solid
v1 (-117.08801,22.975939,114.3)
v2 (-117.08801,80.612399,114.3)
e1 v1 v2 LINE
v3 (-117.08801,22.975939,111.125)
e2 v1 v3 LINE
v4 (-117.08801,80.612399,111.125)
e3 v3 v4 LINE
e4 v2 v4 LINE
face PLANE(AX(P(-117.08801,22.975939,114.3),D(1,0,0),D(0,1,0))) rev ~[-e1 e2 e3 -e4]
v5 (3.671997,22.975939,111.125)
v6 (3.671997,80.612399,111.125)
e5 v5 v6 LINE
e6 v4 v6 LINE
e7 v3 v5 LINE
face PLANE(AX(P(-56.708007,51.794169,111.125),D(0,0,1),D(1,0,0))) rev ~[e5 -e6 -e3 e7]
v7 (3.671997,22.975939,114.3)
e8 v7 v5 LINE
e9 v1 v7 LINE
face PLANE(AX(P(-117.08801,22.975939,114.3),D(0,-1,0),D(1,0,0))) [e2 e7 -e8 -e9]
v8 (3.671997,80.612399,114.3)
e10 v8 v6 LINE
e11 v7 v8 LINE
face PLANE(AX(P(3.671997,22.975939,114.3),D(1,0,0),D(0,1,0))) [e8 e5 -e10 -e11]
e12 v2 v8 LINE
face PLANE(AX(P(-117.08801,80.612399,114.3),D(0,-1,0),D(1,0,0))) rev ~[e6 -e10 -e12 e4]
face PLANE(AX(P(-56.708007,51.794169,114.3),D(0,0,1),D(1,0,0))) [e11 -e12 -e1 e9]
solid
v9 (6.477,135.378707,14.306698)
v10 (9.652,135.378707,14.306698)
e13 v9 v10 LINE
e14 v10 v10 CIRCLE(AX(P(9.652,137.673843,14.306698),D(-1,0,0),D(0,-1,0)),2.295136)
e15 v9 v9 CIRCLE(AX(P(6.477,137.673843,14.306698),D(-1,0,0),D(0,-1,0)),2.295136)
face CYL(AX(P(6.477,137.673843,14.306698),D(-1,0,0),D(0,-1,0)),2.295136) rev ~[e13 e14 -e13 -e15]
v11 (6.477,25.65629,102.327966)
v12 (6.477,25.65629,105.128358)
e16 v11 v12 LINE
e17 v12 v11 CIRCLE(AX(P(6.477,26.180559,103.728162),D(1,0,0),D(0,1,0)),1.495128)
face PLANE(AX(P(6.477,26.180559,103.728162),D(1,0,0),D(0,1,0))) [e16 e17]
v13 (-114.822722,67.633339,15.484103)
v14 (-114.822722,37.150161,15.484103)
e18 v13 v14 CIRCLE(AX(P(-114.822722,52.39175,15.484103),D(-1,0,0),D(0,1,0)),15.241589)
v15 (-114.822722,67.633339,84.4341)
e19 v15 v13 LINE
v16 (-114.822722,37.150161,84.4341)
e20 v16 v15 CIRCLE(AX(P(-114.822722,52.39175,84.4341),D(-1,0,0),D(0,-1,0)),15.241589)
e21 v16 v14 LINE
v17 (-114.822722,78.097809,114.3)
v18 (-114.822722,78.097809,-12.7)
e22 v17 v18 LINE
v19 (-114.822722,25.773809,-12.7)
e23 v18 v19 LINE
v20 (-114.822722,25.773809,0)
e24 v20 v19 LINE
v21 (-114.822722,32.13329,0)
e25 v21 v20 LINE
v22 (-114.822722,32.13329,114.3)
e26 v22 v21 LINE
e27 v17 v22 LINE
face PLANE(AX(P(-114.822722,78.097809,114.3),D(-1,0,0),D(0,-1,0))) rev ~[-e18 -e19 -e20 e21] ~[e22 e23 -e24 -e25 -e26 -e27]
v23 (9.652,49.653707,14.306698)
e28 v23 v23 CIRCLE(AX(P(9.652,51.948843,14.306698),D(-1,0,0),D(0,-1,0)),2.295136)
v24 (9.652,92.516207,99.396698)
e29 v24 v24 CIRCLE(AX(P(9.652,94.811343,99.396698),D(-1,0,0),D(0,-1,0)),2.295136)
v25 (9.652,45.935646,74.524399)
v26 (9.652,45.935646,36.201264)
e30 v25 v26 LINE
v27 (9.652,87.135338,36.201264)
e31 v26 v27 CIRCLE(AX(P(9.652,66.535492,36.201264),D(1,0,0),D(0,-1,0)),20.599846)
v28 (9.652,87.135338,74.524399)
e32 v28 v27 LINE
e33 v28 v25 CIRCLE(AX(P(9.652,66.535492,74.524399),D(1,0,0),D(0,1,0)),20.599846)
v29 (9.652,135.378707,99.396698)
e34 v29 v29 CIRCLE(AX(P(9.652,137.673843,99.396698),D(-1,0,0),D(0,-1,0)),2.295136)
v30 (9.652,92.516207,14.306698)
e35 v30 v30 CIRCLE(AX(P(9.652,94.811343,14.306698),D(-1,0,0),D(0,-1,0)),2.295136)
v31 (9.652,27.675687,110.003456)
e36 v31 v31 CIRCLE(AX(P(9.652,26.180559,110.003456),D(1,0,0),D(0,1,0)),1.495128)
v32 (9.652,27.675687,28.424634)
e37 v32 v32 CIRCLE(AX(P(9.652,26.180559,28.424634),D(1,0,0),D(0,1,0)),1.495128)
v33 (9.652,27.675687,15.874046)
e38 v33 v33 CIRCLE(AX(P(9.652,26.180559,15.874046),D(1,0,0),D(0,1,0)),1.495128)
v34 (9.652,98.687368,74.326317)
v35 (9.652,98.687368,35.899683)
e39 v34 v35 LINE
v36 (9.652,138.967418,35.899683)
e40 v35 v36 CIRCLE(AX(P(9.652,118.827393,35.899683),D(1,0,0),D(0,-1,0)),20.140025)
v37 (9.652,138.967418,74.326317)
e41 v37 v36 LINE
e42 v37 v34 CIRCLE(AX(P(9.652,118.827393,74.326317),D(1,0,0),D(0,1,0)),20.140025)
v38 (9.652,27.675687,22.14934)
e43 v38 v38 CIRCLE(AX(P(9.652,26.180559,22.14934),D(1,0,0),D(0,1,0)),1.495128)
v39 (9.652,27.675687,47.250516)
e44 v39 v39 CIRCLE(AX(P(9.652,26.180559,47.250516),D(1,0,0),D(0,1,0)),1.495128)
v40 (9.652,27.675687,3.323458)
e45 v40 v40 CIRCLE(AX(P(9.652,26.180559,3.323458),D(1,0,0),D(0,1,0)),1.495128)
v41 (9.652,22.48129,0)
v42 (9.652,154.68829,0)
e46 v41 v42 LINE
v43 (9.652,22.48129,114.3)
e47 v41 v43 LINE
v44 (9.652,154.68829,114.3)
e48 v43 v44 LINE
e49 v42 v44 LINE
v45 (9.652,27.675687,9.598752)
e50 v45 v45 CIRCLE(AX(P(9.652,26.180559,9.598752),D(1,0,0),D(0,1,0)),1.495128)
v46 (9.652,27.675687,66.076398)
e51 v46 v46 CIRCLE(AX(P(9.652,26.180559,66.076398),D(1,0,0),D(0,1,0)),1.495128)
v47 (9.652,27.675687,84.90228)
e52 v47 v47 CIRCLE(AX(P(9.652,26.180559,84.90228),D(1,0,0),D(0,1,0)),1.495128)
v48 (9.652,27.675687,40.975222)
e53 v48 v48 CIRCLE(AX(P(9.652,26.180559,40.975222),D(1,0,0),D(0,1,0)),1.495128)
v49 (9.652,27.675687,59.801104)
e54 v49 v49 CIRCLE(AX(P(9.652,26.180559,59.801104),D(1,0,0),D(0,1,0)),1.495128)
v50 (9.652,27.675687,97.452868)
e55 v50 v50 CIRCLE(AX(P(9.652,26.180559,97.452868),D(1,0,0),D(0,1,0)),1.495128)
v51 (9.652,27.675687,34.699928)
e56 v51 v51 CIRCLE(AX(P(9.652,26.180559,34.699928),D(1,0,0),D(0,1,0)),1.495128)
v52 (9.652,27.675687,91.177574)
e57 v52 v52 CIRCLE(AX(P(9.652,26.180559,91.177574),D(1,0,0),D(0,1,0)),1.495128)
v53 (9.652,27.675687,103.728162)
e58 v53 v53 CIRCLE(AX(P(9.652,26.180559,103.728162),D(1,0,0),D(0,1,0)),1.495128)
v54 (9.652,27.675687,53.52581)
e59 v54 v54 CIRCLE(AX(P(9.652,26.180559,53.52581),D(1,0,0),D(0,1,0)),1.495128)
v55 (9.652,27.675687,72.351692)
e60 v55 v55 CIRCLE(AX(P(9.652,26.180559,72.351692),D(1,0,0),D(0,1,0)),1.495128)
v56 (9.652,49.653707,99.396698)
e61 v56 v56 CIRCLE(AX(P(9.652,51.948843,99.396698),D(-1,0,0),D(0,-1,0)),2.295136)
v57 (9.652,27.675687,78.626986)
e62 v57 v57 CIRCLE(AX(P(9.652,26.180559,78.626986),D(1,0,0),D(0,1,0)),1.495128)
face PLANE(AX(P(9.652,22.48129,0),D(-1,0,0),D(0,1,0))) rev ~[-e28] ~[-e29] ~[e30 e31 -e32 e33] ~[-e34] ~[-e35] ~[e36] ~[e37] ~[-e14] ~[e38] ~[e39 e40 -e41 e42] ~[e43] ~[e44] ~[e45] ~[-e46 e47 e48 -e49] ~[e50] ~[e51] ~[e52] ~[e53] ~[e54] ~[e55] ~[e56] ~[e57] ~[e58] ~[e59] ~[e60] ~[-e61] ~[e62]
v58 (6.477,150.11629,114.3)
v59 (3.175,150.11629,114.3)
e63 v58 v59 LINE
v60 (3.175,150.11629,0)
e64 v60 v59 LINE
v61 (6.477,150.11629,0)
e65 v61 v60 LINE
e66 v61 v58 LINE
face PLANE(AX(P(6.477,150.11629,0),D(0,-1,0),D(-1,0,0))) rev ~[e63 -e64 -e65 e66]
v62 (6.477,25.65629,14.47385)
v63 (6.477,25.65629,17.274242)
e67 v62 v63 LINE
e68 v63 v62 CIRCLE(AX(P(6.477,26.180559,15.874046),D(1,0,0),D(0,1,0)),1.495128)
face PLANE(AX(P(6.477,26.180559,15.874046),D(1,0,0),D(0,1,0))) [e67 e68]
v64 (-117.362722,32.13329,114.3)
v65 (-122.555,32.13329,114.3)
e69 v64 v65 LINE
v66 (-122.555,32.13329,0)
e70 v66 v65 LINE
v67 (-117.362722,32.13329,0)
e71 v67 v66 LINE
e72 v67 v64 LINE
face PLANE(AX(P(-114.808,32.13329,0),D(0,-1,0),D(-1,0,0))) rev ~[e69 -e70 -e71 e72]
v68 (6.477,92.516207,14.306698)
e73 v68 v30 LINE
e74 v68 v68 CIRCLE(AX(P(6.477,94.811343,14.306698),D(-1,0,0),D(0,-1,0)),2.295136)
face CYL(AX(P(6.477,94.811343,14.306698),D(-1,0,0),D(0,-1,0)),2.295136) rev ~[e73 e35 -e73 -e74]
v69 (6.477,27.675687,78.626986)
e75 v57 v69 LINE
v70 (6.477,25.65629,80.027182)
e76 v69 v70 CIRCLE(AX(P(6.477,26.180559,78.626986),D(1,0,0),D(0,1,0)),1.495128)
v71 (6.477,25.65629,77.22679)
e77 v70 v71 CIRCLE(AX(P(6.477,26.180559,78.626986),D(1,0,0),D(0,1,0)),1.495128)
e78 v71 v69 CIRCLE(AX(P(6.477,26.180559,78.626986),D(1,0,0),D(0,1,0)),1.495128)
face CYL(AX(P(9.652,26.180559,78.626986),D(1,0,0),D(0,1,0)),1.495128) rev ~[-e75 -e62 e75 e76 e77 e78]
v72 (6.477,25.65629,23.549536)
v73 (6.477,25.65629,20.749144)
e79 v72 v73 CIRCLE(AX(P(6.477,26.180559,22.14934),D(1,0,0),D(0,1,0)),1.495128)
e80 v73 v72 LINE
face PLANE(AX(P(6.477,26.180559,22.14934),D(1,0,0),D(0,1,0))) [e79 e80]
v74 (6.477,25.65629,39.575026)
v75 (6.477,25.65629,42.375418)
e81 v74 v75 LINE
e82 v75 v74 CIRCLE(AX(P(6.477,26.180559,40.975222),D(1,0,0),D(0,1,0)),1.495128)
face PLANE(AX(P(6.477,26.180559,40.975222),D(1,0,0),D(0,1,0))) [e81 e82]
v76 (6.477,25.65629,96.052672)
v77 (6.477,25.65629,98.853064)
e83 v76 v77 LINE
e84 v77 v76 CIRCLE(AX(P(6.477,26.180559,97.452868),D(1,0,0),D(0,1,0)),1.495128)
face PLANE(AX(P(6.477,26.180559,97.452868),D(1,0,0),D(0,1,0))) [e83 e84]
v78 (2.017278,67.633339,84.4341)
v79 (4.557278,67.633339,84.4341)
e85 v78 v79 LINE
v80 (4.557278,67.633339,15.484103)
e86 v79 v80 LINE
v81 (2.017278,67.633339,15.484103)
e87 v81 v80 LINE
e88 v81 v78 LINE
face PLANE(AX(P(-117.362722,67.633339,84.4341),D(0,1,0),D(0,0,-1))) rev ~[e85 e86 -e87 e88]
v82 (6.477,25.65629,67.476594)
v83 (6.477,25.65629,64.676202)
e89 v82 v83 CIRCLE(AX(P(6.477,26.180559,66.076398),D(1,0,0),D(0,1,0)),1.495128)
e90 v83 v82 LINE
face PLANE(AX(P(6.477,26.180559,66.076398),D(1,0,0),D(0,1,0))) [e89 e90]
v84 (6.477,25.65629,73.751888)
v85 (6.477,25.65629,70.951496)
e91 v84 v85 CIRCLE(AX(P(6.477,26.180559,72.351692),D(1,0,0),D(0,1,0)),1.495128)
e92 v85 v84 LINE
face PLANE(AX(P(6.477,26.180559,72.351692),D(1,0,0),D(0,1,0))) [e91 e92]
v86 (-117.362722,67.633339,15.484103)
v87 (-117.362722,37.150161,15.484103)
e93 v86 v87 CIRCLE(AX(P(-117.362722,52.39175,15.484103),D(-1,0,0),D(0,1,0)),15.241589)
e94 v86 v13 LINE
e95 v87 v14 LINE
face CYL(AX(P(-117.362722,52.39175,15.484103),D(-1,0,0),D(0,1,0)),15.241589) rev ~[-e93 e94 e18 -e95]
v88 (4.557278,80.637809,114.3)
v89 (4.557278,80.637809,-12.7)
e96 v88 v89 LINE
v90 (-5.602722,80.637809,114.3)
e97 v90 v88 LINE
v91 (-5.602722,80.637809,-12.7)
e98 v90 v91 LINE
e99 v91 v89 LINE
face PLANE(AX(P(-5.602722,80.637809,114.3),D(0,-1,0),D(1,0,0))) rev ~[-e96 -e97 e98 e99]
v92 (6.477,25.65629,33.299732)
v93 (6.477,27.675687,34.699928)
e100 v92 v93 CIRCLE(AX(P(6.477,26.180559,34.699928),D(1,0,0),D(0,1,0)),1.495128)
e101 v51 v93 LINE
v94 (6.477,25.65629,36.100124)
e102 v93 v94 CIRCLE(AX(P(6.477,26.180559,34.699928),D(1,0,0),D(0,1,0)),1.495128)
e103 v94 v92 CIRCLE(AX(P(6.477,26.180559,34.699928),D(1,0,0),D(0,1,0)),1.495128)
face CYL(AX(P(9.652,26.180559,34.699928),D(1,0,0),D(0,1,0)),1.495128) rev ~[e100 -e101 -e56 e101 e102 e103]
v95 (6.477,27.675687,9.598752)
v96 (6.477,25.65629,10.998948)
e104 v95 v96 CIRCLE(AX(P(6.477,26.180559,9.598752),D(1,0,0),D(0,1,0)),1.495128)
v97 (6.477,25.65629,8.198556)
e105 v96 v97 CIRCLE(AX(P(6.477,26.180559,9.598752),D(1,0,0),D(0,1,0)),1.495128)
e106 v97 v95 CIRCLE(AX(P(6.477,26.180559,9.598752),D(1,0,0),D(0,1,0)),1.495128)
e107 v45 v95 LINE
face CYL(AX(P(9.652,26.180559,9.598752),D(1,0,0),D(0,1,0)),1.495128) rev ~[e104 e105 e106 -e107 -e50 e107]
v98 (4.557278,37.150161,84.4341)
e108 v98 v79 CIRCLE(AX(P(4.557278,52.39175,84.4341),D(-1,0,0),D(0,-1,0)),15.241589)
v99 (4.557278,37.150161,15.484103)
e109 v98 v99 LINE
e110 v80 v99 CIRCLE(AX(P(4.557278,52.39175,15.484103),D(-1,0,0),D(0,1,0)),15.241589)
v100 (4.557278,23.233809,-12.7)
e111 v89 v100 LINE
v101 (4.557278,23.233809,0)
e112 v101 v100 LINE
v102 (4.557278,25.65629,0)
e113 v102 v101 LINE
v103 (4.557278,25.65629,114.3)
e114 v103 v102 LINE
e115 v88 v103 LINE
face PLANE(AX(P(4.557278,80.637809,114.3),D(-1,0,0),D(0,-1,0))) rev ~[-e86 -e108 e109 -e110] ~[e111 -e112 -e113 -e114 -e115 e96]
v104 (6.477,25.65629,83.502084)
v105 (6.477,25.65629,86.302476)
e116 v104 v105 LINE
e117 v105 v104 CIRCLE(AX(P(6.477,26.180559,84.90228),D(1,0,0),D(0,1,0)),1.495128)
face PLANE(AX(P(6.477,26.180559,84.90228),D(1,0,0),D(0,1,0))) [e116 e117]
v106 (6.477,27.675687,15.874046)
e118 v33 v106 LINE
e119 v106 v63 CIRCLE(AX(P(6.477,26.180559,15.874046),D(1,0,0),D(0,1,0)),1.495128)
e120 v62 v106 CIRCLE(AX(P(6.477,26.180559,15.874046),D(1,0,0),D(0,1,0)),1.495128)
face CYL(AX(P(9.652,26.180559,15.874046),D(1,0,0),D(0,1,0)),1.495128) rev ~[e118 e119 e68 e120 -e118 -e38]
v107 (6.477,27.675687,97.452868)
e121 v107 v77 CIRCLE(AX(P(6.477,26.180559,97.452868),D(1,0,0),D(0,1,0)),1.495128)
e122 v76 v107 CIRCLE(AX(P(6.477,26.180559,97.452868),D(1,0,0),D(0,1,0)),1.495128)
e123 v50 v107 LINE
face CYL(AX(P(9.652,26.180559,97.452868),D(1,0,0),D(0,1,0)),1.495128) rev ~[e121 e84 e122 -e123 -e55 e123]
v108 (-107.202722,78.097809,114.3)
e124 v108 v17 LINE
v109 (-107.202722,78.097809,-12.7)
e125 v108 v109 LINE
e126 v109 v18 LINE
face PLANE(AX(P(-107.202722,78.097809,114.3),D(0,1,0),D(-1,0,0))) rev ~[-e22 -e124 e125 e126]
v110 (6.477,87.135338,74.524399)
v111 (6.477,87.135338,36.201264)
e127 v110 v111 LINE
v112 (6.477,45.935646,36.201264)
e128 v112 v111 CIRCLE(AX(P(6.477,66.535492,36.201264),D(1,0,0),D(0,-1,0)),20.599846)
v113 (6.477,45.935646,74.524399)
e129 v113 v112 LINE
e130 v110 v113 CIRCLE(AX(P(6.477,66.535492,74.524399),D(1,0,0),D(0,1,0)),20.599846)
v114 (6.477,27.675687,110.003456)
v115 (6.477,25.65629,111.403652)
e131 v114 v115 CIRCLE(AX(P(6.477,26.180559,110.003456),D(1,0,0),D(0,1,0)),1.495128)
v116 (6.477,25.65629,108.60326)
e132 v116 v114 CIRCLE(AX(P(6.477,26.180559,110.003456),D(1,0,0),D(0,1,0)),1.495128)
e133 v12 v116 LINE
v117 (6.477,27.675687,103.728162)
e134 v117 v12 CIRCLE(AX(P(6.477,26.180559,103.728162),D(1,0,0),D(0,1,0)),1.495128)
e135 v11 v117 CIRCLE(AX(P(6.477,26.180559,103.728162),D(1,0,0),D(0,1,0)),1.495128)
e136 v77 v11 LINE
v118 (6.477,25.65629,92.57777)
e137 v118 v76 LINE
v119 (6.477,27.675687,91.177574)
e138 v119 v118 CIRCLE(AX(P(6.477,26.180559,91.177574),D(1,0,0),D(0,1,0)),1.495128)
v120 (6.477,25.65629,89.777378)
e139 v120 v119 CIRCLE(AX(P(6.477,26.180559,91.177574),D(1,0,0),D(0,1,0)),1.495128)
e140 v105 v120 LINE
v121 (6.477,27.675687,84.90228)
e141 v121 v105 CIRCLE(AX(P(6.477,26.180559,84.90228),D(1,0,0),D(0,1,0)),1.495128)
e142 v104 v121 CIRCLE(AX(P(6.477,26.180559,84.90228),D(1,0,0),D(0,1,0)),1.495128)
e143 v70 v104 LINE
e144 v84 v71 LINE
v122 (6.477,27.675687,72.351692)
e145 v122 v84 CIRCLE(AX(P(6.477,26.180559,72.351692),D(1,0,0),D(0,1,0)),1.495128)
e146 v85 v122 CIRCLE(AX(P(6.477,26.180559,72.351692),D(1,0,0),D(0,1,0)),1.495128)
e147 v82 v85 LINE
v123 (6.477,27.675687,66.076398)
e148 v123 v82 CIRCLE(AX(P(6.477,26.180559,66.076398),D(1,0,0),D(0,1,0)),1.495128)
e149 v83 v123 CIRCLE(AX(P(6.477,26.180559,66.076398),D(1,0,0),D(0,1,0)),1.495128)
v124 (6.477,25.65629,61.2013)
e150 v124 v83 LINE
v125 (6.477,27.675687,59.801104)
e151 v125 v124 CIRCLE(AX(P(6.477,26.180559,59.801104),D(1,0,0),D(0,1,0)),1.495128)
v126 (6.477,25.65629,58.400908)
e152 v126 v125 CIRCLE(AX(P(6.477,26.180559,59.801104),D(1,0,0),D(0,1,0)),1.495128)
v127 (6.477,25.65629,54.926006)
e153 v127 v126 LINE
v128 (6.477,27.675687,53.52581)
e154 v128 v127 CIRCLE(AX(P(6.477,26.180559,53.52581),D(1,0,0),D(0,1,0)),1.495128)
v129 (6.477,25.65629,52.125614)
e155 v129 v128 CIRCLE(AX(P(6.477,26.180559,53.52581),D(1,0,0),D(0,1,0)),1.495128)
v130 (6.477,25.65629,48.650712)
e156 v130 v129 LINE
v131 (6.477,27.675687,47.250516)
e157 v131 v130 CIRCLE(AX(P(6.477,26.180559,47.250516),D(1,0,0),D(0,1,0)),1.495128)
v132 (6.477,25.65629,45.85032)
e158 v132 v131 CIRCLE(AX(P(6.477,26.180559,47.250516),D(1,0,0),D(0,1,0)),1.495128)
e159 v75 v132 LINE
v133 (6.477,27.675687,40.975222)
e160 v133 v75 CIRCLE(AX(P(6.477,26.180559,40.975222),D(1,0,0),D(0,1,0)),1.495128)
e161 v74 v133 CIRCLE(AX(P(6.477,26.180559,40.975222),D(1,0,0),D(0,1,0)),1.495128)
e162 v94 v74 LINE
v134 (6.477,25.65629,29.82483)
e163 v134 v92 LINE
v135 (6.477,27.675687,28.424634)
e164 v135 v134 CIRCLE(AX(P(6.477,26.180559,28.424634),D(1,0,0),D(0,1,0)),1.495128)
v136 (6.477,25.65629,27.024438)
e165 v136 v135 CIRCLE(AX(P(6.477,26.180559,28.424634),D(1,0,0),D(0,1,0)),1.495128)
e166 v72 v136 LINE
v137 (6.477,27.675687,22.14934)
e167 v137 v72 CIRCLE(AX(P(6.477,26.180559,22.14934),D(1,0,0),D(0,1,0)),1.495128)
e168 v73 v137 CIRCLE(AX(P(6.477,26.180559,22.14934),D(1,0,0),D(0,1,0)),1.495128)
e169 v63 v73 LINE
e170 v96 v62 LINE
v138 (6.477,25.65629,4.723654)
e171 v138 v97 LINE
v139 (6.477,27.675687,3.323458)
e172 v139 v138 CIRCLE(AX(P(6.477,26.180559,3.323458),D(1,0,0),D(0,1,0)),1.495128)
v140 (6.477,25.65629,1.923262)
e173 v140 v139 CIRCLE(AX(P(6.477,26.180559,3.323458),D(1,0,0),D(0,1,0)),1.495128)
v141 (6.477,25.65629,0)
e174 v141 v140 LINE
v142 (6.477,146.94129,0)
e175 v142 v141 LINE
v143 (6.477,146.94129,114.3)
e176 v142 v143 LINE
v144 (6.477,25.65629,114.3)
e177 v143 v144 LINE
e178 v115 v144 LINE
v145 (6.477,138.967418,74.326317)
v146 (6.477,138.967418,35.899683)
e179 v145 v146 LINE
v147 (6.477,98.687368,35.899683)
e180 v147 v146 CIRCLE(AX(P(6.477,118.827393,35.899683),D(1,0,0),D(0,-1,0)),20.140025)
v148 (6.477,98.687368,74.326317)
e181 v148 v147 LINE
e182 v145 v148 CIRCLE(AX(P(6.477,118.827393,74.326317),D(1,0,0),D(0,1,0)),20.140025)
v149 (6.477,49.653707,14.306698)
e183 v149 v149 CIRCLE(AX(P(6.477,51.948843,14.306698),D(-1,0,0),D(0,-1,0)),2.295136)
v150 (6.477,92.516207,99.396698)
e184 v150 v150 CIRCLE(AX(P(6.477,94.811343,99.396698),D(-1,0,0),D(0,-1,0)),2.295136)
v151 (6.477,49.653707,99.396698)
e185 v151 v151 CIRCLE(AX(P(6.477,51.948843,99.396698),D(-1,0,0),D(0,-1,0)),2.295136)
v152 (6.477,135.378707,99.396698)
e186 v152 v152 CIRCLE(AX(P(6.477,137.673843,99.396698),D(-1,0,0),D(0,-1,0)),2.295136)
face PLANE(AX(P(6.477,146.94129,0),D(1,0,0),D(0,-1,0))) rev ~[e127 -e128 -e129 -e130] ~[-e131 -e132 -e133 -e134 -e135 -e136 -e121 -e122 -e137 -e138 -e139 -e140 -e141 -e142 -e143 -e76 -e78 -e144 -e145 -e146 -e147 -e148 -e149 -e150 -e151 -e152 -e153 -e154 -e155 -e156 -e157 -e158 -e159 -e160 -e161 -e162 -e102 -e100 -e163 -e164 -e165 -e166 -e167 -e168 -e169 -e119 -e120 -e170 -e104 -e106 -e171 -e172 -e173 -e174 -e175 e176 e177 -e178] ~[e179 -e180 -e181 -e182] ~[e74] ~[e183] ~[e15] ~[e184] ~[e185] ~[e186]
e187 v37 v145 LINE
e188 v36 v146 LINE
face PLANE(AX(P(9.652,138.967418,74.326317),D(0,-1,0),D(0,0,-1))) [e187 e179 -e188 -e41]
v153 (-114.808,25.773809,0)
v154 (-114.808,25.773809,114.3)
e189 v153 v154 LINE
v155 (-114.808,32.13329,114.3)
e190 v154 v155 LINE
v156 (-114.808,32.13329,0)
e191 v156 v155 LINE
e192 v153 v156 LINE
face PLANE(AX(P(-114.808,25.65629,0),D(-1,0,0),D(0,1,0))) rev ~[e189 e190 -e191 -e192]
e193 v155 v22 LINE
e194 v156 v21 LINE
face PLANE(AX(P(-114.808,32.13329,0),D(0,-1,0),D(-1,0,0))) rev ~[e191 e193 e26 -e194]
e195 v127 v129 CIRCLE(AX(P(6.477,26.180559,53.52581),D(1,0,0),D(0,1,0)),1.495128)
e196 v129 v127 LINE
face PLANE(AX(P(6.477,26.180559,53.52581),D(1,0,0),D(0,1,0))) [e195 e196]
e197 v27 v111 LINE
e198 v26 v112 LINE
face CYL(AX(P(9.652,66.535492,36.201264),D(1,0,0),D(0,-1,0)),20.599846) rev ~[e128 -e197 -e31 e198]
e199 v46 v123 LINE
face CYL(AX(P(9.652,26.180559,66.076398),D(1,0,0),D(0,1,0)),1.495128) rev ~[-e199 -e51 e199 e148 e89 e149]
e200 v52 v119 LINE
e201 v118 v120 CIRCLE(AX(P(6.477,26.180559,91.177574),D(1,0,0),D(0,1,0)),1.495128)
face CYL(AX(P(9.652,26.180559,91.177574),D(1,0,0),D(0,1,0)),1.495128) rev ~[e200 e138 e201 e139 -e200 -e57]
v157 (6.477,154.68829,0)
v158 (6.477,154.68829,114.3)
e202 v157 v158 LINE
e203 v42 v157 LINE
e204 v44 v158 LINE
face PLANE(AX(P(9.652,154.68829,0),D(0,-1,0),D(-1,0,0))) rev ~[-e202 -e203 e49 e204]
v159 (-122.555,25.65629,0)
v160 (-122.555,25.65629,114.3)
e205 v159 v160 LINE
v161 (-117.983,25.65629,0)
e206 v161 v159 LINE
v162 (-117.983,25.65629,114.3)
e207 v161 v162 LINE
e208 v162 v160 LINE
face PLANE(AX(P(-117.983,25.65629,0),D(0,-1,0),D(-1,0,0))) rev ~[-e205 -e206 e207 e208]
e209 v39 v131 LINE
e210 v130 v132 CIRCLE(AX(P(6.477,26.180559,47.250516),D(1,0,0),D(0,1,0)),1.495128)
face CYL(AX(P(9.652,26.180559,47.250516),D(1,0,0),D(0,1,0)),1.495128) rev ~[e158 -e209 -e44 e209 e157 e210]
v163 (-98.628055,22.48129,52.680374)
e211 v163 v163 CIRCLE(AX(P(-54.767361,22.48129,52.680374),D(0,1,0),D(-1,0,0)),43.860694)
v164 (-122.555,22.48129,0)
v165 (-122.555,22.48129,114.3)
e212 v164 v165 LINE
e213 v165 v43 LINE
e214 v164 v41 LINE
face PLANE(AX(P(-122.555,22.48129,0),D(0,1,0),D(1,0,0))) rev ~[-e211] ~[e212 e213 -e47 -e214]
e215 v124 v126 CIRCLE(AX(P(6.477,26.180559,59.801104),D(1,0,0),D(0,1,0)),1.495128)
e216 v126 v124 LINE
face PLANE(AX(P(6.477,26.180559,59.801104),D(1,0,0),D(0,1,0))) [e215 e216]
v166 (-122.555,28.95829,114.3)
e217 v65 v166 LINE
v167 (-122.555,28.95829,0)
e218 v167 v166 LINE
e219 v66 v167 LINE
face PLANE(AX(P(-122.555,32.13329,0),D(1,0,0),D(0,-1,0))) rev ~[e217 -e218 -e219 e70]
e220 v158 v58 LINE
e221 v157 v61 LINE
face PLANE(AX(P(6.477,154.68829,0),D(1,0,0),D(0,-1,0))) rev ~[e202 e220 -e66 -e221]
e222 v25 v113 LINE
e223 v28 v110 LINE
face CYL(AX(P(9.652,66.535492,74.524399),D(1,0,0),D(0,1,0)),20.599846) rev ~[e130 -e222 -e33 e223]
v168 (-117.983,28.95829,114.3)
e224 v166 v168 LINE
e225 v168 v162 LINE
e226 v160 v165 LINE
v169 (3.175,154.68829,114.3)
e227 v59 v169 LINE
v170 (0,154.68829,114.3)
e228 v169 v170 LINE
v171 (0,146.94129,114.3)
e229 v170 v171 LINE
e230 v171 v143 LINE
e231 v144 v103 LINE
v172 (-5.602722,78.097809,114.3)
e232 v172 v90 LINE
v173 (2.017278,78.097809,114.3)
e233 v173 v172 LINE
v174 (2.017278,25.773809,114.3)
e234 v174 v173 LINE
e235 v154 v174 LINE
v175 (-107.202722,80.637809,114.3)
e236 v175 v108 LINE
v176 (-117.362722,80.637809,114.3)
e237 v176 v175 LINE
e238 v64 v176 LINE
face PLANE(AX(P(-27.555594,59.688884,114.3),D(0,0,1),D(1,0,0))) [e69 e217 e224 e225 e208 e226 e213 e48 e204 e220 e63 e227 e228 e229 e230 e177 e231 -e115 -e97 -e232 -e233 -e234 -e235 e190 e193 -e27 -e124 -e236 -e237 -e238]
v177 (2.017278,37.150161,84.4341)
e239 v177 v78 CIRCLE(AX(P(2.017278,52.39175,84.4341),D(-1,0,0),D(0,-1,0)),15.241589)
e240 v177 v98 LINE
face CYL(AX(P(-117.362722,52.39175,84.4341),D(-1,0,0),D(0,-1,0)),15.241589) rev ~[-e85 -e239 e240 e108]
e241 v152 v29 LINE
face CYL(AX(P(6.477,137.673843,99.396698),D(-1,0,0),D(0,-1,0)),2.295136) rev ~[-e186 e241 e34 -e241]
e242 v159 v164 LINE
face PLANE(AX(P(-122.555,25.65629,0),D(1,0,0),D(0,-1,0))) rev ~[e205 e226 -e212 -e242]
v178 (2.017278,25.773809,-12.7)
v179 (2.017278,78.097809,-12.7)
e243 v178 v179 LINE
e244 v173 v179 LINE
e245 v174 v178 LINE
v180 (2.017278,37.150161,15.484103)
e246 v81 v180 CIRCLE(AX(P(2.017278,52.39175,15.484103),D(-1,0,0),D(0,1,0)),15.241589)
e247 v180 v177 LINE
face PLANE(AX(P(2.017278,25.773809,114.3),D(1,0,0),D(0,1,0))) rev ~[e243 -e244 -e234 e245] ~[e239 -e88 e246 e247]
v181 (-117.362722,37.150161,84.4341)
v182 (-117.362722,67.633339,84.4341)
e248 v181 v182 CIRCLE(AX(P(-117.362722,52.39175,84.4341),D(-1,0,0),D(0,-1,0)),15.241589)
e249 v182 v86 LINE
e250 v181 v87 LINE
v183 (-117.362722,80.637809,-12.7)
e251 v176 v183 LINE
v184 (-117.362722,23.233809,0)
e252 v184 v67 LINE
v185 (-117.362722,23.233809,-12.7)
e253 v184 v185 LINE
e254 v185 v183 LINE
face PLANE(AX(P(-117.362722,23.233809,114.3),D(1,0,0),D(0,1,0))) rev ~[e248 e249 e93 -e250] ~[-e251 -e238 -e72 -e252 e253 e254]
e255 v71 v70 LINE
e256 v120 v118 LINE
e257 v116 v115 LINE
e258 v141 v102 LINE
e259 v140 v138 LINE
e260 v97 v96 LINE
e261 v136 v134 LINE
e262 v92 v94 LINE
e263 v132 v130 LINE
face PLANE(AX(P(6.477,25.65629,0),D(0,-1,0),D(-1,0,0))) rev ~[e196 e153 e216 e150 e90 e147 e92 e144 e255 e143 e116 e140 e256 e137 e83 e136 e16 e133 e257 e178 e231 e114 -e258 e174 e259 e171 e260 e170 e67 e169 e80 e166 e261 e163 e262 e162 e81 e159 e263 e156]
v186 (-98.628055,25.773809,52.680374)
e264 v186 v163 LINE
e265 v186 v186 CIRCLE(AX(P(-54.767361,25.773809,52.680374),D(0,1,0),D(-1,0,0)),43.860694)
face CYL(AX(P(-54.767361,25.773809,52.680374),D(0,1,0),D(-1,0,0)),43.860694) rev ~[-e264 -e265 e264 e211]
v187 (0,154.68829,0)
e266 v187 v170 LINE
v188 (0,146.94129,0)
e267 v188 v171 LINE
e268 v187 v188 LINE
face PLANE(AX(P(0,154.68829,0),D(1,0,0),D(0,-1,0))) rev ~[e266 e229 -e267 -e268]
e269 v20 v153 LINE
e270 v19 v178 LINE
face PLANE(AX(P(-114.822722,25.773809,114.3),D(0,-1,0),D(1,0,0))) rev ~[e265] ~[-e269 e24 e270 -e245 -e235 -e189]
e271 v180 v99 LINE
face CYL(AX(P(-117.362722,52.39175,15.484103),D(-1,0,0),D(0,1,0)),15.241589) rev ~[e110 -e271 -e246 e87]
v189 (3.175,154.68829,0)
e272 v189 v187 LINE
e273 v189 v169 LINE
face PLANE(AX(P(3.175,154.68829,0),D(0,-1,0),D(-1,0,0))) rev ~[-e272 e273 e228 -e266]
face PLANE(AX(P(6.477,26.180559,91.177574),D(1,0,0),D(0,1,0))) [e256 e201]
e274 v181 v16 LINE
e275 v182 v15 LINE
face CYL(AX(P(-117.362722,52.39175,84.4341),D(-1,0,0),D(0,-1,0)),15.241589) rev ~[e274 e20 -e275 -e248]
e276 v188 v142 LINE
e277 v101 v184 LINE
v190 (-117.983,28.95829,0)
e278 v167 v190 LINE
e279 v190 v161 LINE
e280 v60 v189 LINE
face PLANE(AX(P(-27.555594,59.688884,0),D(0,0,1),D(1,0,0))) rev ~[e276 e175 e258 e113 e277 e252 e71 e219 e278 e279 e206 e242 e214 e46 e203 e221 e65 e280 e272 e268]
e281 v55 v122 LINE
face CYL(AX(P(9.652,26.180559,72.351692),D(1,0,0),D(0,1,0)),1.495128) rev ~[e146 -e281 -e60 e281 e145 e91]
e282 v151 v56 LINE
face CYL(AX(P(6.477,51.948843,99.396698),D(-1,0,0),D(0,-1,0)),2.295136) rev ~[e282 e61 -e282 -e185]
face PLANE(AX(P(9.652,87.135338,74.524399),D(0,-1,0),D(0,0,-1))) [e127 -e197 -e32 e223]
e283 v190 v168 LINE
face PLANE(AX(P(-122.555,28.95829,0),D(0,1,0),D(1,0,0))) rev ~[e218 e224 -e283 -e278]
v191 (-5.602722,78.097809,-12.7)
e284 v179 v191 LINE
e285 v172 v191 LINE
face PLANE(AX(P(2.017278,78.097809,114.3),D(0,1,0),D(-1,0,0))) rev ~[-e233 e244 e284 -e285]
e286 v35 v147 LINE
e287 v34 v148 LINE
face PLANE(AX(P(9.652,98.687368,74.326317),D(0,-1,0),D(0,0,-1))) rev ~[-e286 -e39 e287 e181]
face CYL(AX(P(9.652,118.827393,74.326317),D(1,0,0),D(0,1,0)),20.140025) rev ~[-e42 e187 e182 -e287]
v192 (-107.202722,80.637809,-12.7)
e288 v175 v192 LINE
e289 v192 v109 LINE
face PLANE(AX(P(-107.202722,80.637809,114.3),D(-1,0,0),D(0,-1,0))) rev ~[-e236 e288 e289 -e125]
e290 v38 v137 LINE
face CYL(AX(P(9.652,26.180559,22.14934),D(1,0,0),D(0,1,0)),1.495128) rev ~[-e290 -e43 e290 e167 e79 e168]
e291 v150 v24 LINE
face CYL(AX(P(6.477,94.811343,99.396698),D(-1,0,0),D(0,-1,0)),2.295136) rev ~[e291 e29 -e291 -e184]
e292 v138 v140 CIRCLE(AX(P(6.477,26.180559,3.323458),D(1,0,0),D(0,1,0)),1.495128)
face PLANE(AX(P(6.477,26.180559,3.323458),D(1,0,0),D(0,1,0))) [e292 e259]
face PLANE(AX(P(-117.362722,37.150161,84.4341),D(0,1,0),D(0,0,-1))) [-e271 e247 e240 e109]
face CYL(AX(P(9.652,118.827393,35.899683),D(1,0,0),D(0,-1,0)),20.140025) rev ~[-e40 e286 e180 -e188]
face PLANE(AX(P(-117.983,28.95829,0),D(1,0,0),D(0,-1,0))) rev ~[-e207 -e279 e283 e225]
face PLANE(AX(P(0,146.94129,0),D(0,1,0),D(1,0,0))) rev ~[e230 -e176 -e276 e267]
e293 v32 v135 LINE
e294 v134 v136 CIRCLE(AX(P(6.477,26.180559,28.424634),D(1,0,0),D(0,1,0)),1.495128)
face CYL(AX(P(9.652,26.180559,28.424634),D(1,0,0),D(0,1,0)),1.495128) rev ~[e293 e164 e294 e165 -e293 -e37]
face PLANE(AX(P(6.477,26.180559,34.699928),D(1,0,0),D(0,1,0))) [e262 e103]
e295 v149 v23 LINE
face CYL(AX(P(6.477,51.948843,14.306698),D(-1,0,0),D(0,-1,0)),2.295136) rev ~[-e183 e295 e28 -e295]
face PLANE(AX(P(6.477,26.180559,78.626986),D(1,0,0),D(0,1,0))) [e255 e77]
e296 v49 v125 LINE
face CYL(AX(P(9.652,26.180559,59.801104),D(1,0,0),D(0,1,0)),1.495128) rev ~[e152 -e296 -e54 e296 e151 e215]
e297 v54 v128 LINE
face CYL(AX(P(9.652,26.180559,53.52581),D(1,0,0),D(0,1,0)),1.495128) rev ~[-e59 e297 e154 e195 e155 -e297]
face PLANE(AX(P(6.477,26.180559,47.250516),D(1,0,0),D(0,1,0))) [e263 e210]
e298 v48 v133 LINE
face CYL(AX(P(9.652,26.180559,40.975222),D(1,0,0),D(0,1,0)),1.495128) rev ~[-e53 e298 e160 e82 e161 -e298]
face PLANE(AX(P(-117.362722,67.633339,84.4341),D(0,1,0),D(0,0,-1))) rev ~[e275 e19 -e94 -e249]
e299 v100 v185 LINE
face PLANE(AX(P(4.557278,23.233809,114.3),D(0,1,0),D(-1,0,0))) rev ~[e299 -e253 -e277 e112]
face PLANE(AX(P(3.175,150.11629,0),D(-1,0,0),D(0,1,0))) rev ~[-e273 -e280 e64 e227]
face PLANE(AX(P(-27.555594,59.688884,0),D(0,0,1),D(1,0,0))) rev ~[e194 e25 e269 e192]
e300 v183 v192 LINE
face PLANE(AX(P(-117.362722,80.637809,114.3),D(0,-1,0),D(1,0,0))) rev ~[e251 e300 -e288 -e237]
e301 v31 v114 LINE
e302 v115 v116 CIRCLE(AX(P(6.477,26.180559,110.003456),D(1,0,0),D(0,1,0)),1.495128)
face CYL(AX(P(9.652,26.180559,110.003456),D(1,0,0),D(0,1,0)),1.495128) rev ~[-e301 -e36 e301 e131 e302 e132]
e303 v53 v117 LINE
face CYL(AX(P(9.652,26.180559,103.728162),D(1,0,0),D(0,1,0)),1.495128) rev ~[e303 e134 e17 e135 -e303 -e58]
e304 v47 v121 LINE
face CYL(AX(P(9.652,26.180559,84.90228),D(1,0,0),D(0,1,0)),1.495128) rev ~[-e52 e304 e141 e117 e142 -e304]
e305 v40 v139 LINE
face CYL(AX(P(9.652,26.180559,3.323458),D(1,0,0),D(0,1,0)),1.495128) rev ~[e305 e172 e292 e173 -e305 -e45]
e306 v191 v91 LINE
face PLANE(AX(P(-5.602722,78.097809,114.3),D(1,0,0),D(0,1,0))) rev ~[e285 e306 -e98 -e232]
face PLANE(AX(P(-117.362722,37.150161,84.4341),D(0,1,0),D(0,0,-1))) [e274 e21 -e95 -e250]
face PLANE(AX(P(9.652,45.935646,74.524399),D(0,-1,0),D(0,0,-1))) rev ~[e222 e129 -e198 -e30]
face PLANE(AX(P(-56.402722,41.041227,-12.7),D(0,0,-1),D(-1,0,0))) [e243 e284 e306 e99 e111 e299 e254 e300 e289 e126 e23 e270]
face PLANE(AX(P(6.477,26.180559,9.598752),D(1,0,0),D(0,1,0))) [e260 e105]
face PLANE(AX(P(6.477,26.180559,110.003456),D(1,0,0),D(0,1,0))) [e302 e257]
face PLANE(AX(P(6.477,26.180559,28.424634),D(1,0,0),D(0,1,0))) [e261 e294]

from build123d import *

# Parameters (mm, degrees)
SKETCH008_W            = 120.760007
SKETCH008_H            = 57.636461
PAD002_DEPTH           = 3.175
PAD_DEPTH              = 114.3
SKETCH002_R            = 1.495128
POCKET_DEPTH           = 3.175
LINEARPATTERN_COUNT    = 18
LINEARPATTERN_PITCH    = 6.275294
SKETCH003_R            = 2.295136
POCKET001_DEPTH        = 4.99999
LINEARPATTERN001_COUNT = 3
LINEARPATTERN001_PITCH = 42.8625
PAD001_DEPTH           = 127
SKETCH009_R            = 43.860694
POCKET002_DEPTH        = 4.99999
POCKET003_DEPTH        = 4.99999
POCKET004_DEPTH        = 121.92
POCKET005_DEPTH        = 4.99999


with BuildPart() as pad002:
    # Sketch008 → Pad002 (new body)
    with BuildSketch(Plane.XY.offset(114.3)):
        with Locations((-56.708007, 51.794169)):
            Rectangle(SKETCH008_W, SKETCH008_H)
    extrude(amount=-PAD002_DEPTH)


with BuildPart() as pocket005:
    # Sketch → Pad (new body)
    with BuildSketch(Plane.XY):
        Polygon((-122.555, 32.13329), (-122.555, 28.95829), (-117.983, 28.95829), (-117.983, 25.65629), (-122.555, 25.65629), (-122.555, 22.48129), (9.652, 22.48129), (9.652, 154.68829), (6.477, 154.68829), (6.477, 150.11629), (3.175, 150.11629), (3.175, 154.68829), (0, 154.68829), (0, 146.94129), (6.477, 146.94129), (6.477, 25.65629), (-114.808, 25.65629), (-114.808, 32.13329), align=None)
    extrude(amount=PAD_DEPTH)

    # Sketch002 → Pocket (cut)
    with BuildSketch(Plane.YZ.offset(9.652)):
        with Locations((26.180559, 110.003456)):
            Circle(SKETCH002_R)
    pocket = extrude(amount=-POCKET_DEPTH, mode=Mode.SUBTRACT)

    # LinearPattern: Pocket ×18
    with Locations(*[(0, 0, -i * LINEARPATTERN_PITCH) for i in range(1, LINEARPATTERN_COUNT)]):
        add(pocket, mode=Mode.SUBTRACT)

    # Sketch003 → Pocket001 (cut)
    with BuildSketch(Plane(origin=(6.477, 0, 0), x_dir=(0, -1, 0), z_dir=(-1, 0, 0))):
        with Locations((-137.673843, 99.396698)):
            Circle(SKETCH003_R)
        with Locations((-137.673843, 14.306698)):
            Circle(SKETCH003_R)
    pocket001 = extrude(amount=-POCKET001_DEPTH, mode=Mode.SUBTRACT)

    # LinearPattern001: Pocket001 ×3
    with Locations(*[(0, -i * LINEARPATTERN001_PITCH, 0) for i in range(1, LINEARPATTERN001_COUNT)]):
        add(pocket001, mode=Mode.SUBTRACT)

    # Sketch006 → Pad001 (new body)
    with BuildSketch(Plane.XY.offset(114.3)):
        Polygon((-114.822722, 25.773809), (2.017278, 25.773809), (2.017278, 78.097809), (-5.602722, 78.097809), (-5.602722, 80.637809), (4.557278, 80.637809), (4.557278, 23.233809), (-117.362722, 23.233809), (-117.362722, 80.637809), (-107.202722, 80.637809), (-107.202722, 78.097809), (-114.822722, 78.097809), align=None)
    extrude(amount=-PAD001_DEPTH)

    # Sketch009 → Pocket002 (cut)
    with BuildSketch(Plane(origin=(0, 25.773809, 0), x_dir=(-1, 0, 0), z_dir=(0, 1, 0))):
        with Locations((54.767361, 52.680374)):
            Circle(SKETCH009_R)
    extrude(amount=-POCKET002_DEPTH, mode=Mode.SUBTRACT)

    # Sketch010 → Pocket003 (cut)
    with BuildSketch(Plane.YZ.offset(9.652)):
        with BuildLine():
            ThreePointArc((71.518462, 62.257122), (75.586218, 66.324878), (71.518462, 70.392634))
            Line((71.518462, 70.392634), (67.437601, 70.392634))
            ThreePointArc((67.437601, 70.392634), (63.369845, 66.324878), (67.437601, 62.257122))
            Line((71.518462, 62.257122), (67.437601, 62.257122))
        make_face()
    extrude(amount=-POCKET003_DEPTH, mode=Mode.SUBTRACT)

    # Sketch011 → Pocket004 (cut)
    with BuildSketch(Plane(origin=(-117.362722, 0, 0), x_dir=(0, -1, 0), z_dir=(-1, 0, 0))):
        with BuildLine():
            ThreePointArc((-37.150161, 84.4341), (-52.39175, 99.675689), (-67.633339, 84.4341))
            Line((-67.633339, 84.4341), (-67.633339, 15.484103))
            ThreePointArc((-67.633339, 15.484103), (-52.39175, 0.242514), (-37.150161, 15.484103))
            Line((-37.150161, 84.4341), (-37.150161, 15.484103))
        make_face()
    extrude(amount=-POCKET004_DEPTH, mode=Mode.SUBTRACT)

    # Sketch012 → Pocket005 (cut)
    with BuildSketch(Plane.YZ.offset(9.652)):
        with BuildLine():
            ThreePointArc((87.135338, 74.524399), (66.535492, 95.124245), (45.935646, 74.524399))
            Line((45.935646, 74.524399), (45.935646, 36.201264))
            ThreePointArc((45.935646, 36.201264), (66.535492, 15.601418), (87.135338, 36.201264))
            Line((87.135338, 74.524399), (87.135338, 36.201264))
        make_face()
        with BuildLine():
            ThreePointArc((138.967418, 74.326317), (118.827393, 94.466342), (98.687368, 74.326317))
            Line((98.687368, 74.326317), (98.687368, 35.899683))
            ThreePointArc((98.687368, 35.899683), (118.827393, 15.759658), (138.967418, 35.899683))
            Line((138.967418, 74.326317), (138.967418, 35.899683))
        make_face()
    extrude(amount=-POCKET005_DEPTH, mode=Mode.SUBTRACT)


solid = Compound([pad002.part, pocket005.part])
